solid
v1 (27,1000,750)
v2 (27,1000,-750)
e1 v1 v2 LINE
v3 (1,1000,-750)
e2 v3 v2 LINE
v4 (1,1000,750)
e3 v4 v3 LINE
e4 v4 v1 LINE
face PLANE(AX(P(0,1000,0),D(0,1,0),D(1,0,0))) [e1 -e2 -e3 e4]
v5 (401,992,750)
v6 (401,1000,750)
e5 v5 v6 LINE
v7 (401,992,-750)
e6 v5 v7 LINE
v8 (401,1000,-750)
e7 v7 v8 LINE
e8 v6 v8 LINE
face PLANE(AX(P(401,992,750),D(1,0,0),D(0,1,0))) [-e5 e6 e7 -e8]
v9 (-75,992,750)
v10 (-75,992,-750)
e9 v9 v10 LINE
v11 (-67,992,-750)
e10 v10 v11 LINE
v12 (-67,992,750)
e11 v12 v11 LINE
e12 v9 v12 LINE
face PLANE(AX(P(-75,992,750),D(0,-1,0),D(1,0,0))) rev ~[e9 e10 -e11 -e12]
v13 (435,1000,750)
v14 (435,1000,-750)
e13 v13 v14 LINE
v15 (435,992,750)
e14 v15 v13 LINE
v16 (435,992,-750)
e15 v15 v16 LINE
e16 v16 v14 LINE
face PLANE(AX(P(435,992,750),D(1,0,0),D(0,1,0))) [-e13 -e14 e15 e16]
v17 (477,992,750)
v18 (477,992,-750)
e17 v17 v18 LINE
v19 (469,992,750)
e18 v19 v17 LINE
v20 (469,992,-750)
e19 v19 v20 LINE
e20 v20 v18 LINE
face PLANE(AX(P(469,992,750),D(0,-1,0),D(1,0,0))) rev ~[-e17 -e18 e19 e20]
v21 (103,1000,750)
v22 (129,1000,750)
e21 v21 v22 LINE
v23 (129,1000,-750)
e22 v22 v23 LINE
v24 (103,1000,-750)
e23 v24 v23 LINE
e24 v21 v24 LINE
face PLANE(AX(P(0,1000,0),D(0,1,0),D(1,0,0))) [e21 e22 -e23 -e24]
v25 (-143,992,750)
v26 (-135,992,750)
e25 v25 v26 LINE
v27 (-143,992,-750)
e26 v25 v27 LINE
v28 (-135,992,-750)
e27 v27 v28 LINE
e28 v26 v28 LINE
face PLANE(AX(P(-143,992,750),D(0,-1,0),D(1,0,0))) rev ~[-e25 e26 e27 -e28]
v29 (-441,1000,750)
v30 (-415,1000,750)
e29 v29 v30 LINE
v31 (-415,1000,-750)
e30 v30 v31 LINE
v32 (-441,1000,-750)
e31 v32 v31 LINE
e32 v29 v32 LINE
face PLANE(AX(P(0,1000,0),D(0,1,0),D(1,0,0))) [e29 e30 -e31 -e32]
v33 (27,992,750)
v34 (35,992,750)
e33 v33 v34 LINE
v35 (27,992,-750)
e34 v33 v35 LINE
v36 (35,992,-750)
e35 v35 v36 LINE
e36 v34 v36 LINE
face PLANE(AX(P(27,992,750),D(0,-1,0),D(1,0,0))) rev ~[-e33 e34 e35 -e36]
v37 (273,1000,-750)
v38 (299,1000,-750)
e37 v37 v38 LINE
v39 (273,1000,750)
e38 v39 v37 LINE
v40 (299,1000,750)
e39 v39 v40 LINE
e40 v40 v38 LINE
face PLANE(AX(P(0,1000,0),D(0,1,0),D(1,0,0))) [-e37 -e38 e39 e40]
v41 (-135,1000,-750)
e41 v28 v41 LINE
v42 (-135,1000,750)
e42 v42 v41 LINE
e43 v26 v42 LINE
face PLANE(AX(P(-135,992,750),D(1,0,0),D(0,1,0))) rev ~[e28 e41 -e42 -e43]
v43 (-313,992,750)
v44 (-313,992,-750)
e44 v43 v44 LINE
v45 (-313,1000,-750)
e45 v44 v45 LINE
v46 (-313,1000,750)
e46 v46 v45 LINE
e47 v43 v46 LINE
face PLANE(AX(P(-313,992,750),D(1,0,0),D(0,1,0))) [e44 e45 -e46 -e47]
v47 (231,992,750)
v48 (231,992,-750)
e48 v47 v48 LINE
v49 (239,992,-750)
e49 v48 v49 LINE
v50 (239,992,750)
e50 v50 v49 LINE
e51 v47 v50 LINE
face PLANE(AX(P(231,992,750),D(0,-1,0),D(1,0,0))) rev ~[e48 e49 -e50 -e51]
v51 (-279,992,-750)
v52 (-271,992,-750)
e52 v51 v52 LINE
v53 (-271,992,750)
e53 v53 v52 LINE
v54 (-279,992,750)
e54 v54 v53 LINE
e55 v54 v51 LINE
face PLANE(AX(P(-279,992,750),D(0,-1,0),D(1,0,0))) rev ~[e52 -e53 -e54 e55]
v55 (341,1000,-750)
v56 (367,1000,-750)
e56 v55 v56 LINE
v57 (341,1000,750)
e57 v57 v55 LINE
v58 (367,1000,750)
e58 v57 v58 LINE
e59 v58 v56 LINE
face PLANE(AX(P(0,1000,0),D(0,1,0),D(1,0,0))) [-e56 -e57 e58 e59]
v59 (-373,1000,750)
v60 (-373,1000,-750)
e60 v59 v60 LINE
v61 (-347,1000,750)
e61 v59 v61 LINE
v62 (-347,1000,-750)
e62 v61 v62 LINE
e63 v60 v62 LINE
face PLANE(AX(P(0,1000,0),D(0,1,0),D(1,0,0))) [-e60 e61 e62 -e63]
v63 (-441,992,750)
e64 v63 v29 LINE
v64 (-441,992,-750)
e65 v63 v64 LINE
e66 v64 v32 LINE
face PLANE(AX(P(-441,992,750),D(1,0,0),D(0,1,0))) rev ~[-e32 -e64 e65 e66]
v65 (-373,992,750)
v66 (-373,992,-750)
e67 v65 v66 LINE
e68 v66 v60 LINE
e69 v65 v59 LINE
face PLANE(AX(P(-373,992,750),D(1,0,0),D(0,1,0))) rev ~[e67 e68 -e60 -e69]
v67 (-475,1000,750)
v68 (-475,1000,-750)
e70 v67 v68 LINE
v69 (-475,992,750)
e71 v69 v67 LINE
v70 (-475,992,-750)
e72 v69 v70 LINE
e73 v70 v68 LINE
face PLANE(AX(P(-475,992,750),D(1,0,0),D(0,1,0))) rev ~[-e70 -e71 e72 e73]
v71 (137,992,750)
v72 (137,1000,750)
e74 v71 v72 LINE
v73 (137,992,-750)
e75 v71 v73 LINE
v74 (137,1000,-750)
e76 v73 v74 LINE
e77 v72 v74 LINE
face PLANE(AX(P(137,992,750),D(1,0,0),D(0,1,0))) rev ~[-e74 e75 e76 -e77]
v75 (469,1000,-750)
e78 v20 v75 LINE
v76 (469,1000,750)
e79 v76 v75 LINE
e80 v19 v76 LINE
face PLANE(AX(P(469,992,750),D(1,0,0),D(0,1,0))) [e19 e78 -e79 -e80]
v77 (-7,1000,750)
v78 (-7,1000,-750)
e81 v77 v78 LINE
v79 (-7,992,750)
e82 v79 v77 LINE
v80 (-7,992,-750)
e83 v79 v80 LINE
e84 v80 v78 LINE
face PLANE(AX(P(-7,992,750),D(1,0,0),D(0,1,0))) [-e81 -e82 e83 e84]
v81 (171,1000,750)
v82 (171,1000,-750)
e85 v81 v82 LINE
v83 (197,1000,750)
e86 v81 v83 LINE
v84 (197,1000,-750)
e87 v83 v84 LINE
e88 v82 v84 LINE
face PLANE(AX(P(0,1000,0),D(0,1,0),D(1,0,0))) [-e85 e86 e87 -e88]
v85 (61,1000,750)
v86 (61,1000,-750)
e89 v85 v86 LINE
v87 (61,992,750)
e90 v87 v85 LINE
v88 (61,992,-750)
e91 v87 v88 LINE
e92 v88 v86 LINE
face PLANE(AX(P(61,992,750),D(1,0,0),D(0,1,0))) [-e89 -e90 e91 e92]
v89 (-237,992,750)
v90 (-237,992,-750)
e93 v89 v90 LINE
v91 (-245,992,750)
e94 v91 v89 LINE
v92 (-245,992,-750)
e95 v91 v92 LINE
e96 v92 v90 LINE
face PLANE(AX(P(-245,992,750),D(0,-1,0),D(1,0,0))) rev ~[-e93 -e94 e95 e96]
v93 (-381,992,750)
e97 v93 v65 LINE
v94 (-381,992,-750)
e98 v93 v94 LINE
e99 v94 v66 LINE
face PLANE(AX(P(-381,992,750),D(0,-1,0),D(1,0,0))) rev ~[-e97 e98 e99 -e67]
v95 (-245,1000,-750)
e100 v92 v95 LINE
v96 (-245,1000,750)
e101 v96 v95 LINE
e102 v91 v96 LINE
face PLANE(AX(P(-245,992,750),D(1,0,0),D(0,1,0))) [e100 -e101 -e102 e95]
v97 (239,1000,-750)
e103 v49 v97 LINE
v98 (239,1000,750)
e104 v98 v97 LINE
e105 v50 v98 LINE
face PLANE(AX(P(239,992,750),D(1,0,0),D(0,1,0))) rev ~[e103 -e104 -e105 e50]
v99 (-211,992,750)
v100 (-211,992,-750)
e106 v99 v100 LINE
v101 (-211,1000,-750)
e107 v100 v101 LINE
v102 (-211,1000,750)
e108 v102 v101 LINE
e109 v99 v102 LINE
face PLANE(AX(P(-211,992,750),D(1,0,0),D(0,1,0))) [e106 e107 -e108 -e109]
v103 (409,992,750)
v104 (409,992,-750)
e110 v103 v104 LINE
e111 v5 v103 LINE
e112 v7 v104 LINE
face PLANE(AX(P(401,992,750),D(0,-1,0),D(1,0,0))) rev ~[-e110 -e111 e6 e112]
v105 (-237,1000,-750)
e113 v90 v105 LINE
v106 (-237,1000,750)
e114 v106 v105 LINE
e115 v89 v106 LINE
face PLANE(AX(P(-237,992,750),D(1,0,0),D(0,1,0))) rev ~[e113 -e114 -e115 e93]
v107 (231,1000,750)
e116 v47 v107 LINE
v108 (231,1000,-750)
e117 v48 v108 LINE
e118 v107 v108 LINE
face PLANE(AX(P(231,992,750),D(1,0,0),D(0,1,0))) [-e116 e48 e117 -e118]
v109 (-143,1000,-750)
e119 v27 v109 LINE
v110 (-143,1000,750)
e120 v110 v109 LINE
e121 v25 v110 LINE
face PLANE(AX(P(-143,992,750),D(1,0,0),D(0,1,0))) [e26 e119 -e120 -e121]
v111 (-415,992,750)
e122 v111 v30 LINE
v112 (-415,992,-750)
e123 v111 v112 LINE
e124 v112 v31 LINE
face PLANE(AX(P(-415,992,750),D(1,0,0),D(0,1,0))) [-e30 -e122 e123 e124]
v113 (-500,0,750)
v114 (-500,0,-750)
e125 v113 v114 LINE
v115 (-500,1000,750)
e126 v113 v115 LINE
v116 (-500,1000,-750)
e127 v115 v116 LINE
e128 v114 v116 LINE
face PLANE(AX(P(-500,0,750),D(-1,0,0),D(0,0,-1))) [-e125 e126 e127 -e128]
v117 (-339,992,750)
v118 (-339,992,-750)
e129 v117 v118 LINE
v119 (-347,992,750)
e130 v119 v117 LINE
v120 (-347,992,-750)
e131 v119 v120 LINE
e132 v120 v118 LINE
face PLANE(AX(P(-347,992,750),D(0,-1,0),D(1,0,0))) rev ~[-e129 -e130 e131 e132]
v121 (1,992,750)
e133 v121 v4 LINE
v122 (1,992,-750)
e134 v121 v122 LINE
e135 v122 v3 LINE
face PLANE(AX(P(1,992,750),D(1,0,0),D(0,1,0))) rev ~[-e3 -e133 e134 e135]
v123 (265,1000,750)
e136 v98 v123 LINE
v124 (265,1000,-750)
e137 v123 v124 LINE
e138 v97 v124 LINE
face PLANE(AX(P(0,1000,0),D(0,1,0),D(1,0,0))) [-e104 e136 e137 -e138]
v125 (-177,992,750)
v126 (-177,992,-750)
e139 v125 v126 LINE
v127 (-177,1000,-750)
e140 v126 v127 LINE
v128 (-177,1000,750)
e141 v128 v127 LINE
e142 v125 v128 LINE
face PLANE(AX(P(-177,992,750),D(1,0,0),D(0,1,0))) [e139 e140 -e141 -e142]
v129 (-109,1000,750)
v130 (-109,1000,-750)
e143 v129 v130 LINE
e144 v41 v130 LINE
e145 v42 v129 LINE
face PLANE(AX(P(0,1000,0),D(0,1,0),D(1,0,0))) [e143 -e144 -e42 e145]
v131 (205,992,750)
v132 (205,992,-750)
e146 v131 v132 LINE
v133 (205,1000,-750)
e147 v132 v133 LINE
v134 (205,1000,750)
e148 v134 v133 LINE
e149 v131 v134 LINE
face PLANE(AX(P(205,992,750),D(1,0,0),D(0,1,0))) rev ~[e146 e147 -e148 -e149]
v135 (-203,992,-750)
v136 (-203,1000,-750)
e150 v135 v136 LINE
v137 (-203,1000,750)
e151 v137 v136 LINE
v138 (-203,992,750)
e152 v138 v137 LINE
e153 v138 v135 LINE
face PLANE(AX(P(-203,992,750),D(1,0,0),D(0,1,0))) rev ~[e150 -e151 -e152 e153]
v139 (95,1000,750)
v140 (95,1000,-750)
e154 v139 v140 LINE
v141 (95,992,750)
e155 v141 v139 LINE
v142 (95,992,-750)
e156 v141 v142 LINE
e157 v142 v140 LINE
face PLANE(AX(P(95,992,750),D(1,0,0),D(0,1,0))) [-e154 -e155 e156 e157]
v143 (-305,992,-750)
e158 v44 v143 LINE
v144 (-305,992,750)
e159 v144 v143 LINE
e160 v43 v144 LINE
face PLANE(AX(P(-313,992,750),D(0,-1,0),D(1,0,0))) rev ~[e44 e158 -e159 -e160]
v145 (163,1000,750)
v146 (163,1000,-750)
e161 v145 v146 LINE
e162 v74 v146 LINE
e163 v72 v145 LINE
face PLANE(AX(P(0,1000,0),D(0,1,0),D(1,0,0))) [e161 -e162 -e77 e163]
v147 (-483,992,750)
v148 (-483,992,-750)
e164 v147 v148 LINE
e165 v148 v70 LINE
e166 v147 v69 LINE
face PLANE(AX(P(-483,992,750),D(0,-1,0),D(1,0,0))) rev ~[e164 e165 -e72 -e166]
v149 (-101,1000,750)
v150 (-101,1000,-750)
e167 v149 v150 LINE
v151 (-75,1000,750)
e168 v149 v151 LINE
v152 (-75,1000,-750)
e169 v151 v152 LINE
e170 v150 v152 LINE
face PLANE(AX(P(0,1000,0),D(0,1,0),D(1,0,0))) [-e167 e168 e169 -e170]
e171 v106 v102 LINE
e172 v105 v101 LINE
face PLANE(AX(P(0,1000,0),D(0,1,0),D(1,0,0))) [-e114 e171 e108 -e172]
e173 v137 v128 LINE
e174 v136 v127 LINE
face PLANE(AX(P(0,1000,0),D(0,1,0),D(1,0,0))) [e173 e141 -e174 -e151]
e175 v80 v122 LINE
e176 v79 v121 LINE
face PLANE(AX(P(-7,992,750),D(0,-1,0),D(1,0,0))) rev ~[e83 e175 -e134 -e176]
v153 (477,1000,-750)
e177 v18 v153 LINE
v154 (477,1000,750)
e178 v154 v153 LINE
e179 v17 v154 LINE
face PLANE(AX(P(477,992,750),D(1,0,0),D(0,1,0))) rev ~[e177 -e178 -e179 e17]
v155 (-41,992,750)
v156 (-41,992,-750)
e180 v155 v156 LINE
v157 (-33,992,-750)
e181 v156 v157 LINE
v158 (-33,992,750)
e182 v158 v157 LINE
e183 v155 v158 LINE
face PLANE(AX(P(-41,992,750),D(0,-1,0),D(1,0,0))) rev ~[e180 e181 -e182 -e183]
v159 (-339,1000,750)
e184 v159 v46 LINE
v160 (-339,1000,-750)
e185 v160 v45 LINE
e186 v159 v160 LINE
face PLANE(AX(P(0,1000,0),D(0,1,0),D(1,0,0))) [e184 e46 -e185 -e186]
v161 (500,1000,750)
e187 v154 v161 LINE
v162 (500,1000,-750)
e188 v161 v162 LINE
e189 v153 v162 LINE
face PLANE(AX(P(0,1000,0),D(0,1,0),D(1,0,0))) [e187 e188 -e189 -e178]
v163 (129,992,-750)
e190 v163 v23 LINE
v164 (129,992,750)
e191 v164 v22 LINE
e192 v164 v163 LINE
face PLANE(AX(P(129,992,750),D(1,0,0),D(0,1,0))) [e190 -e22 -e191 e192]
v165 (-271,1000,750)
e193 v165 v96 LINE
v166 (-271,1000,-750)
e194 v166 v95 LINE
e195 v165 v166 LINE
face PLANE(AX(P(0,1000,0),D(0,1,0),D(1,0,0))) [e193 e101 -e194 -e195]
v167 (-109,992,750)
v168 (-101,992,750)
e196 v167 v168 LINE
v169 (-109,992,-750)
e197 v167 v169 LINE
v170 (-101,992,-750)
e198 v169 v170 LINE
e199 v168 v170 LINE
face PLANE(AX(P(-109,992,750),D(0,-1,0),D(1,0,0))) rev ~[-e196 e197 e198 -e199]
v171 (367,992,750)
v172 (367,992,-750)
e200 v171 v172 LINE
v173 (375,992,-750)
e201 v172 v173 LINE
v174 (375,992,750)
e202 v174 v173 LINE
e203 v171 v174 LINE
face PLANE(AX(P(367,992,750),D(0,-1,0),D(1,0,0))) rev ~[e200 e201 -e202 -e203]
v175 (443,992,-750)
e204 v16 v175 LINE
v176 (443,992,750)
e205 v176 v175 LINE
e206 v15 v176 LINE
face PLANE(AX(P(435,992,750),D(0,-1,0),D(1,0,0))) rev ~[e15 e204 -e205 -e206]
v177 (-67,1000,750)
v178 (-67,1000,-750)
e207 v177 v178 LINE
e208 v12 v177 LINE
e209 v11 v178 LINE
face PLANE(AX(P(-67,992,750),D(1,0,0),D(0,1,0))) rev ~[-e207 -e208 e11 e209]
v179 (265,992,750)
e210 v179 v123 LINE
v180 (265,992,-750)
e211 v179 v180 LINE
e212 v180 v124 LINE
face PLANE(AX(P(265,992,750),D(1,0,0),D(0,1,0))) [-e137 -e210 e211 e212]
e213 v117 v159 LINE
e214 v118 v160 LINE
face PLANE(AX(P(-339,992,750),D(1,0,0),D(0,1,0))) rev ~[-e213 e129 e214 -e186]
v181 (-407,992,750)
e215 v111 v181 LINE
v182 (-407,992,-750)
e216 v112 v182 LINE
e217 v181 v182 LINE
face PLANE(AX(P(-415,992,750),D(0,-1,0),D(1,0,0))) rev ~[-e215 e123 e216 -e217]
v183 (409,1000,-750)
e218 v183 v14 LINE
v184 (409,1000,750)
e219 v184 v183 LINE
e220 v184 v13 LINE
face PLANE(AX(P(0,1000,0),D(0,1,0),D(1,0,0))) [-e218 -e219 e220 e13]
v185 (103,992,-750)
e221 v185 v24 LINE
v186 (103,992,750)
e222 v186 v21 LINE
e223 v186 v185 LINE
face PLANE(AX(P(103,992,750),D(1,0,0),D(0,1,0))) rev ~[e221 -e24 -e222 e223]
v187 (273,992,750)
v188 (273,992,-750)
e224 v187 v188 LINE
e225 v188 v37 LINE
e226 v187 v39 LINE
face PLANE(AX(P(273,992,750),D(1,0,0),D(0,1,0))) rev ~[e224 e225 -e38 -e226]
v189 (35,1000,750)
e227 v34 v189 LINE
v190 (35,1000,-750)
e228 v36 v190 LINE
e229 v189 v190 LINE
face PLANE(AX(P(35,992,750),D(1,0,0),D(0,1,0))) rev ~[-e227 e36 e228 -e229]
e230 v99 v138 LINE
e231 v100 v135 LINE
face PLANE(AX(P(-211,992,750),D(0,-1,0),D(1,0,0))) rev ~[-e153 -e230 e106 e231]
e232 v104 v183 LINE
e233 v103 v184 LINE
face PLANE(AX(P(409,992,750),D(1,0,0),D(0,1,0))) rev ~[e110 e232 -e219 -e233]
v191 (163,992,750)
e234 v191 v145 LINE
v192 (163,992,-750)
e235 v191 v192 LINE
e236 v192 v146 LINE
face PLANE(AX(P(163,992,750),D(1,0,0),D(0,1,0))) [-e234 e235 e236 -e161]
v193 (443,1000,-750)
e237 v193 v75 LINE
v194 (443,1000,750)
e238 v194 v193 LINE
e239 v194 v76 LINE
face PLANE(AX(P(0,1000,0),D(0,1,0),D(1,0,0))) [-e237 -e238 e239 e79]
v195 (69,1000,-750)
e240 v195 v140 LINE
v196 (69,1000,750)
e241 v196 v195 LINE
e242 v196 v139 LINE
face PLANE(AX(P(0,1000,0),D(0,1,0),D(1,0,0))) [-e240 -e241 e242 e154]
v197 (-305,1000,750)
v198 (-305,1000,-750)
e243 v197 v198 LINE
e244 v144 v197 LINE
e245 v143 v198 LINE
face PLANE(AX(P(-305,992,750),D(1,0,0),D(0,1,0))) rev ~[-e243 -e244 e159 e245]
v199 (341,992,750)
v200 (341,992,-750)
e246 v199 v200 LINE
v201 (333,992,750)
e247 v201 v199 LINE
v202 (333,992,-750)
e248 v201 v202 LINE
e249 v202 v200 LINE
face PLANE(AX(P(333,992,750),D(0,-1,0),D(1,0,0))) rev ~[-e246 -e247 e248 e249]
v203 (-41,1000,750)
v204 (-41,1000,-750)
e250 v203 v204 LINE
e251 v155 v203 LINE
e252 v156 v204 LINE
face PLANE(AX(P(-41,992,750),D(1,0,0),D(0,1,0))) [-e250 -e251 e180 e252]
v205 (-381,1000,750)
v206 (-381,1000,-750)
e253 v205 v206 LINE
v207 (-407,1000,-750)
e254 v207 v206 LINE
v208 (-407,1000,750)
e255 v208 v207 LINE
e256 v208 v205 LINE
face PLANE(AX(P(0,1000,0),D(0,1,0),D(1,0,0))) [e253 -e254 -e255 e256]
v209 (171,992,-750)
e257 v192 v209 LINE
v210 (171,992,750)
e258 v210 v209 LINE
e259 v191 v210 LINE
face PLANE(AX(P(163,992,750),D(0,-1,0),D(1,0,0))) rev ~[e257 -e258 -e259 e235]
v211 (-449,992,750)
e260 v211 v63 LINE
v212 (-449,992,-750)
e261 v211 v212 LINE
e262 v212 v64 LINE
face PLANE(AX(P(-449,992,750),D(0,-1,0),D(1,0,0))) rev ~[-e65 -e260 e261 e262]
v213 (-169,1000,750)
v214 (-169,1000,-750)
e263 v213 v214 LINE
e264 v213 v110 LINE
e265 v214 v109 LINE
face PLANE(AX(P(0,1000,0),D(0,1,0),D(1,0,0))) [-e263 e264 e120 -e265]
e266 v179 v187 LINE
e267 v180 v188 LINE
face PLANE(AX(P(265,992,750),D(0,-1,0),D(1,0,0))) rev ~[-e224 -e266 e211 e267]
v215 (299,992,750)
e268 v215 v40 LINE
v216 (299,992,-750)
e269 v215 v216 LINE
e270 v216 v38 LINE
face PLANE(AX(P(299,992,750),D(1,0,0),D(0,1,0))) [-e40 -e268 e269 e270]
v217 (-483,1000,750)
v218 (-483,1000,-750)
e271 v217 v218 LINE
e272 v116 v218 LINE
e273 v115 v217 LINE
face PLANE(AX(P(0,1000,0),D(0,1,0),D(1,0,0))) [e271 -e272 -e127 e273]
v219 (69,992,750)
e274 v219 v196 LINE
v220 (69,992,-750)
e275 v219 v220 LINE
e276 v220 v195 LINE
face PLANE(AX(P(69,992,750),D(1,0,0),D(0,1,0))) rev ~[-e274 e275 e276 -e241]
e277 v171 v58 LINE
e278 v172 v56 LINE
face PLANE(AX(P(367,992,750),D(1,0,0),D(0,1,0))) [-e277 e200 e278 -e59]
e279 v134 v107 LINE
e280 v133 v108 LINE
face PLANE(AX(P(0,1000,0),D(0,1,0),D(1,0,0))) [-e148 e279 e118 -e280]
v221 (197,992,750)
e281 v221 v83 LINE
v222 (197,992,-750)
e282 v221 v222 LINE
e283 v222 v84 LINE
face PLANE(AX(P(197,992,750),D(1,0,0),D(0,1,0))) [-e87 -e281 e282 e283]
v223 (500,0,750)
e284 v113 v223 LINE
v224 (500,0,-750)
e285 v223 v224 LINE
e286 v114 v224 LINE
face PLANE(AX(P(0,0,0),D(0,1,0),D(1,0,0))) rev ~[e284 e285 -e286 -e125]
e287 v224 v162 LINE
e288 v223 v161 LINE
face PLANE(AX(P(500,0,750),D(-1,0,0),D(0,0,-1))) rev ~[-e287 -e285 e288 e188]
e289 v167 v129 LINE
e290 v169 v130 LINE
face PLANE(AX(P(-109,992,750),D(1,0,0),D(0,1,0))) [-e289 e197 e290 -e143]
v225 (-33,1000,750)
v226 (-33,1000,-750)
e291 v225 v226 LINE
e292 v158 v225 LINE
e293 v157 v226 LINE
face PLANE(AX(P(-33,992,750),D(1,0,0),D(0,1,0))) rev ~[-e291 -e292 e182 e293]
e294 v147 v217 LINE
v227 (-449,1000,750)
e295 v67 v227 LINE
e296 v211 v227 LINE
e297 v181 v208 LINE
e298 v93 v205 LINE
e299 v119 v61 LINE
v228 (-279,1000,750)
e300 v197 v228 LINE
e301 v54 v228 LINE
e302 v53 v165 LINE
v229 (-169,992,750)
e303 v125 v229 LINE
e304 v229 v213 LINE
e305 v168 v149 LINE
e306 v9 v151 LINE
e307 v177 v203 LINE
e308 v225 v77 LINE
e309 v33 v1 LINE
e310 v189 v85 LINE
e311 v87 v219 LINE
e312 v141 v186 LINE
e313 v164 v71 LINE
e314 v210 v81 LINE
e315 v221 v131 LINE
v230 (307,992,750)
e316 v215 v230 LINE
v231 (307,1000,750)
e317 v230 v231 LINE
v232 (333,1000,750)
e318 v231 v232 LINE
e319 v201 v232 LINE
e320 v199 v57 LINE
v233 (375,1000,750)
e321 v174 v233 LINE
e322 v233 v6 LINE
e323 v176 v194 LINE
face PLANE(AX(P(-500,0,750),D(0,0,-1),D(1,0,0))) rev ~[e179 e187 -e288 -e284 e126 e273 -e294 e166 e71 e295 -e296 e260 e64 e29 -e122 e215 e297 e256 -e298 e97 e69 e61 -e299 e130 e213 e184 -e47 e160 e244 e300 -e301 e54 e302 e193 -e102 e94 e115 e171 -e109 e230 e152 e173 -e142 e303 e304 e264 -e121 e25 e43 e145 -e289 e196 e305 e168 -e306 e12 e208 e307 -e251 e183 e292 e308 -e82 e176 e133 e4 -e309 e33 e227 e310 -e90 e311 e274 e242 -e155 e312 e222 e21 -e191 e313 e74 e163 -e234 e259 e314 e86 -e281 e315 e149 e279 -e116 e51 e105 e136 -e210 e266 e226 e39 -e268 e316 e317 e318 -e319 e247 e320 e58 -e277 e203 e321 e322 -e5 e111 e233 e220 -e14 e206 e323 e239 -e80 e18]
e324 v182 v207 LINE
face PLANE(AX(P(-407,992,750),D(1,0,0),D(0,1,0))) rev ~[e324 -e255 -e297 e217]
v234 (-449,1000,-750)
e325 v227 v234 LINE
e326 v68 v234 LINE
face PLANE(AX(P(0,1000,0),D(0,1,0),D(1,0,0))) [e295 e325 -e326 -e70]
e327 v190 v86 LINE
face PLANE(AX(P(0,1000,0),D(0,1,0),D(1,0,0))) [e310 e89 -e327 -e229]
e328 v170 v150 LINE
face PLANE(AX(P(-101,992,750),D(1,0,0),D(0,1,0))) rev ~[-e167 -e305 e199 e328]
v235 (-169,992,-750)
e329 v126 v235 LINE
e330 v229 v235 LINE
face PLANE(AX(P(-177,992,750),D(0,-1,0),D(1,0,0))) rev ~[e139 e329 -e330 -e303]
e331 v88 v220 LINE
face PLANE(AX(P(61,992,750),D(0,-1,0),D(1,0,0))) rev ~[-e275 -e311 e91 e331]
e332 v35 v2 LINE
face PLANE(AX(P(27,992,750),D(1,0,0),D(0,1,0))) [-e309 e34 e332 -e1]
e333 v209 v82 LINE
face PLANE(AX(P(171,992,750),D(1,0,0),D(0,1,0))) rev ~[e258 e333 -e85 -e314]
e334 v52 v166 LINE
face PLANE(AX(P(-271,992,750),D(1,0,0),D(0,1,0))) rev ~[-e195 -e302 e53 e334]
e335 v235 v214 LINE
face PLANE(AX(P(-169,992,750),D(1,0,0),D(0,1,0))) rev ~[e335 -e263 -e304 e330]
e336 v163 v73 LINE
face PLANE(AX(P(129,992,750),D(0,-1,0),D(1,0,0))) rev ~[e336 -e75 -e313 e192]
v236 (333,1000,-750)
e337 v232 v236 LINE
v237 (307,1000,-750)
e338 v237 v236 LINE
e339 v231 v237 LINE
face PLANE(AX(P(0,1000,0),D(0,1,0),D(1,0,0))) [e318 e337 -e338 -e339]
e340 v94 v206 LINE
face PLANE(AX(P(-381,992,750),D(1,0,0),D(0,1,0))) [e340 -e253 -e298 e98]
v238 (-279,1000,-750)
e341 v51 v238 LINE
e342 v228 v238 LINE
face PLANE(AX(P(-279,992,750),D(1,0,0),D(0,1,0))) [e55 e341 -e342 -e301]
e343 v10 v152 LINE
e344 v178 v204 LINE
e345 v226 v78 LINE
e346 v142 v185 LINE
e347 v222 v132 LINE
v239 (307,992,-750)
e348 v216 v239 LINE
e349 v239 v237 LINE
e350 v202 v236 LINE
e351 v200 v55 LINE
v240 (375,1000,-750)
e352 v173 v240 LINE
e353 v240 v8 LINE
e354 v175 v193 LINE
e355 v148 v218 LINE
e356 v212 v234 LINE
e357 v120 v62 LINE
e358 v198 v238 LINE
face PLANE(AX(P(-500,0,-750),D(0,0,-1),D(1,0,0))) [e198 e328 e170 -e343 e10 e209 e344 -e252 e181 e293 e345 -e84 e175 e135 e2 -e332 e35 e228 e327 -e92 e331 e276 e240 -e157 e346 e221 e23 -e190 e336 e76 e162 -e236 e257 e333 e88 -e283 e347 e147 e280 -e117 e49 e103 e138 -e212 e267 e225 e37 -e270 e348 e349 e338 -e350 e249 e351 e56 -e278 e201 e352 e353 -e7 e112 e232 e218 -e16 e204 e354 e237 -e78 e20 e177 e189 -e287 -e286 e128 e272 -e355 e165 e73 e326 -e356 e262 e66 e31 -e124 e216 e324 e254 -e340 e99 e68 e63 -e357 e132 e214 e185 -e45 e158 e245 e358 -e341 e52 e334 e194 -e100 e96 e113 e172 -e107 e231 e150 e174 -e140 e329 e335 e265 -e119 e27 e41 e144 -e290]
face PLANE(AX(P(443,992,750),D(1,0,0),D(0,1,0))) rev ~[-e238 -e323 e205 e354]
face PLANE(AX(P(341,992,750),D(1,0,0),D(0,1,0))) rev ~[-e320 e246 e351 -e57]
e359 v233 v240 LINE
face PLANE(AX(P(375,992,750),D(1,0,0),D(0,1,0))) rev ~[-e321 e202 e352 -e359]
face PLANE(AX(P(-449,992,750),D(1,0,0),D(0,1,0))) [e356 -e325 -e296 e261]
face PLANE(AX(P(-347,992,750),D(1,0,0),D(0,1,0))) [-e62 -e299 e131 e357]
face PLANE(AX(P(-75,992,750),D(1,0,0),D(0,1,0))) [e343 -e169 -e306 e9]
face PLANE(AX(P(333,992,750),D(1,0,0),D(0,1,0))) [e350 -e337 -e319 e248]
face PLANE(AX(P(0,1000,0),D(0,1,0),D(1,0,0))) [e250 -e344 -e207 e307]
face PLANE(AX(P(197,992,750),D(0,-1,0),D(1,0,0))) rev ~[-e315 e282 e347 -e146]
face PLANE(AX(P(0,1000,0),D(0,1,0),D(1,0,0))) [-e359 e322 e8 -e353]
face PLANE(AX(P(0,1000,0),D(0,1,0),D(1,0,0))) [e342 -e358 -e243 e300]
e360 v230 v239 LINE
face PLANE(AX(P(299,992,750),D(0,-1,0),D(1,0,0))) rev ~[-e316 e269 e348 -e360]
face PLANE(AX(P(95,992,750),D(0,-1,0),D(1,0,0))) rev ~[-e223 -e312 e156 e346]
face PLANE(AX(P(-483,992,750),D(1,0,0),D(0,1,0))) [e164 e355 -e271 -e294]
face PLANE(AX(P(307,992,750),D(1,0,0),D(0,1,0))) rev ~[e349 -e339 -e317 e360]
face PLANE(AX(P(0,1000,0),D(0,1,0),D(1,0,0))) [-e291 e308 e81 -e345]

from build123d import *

# Parameters (mm, degrees)
SKETCH_2_W          = 1000
SKETCH_2_H          = 1500
EXTRUDE_1_DEPTH     = 1000
SKETCH_4_W          = 8
SKETCH_4_H          = 8
CUT_EXTRUDE_1_DEPTH = 1500


with BuildPart() as part:
    # 草图2 → 凸台-拉伸1 (new body)
    with BuildSketch(Plane(origin=(0, 0, 0), x_dir=(1, 0, 0), z_dir=(0, 1, 0))):
        Rectangle(SKETCH_2_W, SKETCH_2_H)
    extrude(amount=EXTRUDE_1_DEPTH)

    # 草图4 → 切除-拉伸1 (cut)
    with BuildSketch(Plane.XY.offset(750)):
        with Locations((-479, 996)):
            Rectangle(SKETCH_4_W, SKETCH_4_H)
        with Locations((-445, 996)):
            Rectangle(SKETCH_4_W, SKETCH_4_H)
        with Locations((-411, 996)):
            Rectangle(SKETCH_4_W, SKETCH_4_H)
        with Locations((-377, 996)):
            Rectangle(SKETCH_4_W, SKETCH_4_H)
        with Locations((-343, 996)):
            Rectangle(SKETCH_4_W, SKETCH_4_H)
        with Locations((-309, 996)):
            Rectangle(SKETCH_4_W, SKETCH_4_H)
        with Locations((-275, 996)):
            Rectangle(SKETCH_4_W, SKETCH_4_H)
        with Locations((-241, 996)):
            Rectangle(SKETCH_4_W, SKETCH_4_H)
        with Locations((-207, 996)):
            Rectangle(SKETCH_4_W, SKETCH_4_H)
        with Locations((-173, 996)):
            Rectangle(SKETCH_4_W, SKETCH_4_H)
        with Locations((-139, 996)):
            Rectangle(SKETCH_4_W, SKETCH_4_H)
        with Locations((-105, 996)):
            Rectangle(SKETCH_4_W, SKETCH_4_H)
        with Locations((-71, 996)):
            Rectangle(SKETCH_4_W, SKETCH_4_H)
        with Locations((-37, 996)):
            Rectangle(SKETCH_4_W, SKETCH_4_H)
        with Locations((-3, 996)):
            Rectangle(SKETCH_4_W, SKETCH_4_H)
        with Locations((31, 996)):
            Rectangle(SKETCH_4_W, SKETCH_4_H)
        with Locations((65, 996)):
            Rectangle(SKETCH_4_W, SKETCH_4_H)
        with Locations((99, 996)):
            Rectangle(SKETCH_4_W, SKETCH_4_H)
        with Locations((133, 996)):
            Rectangle(SKETCH_4_W, SKETCH_4_H)
        with Locations((167, 996)):
            Rectangle(SKETCH_4_W, SKETCH_4_H)
        with Locations((201, 996)):
            Rectangle(SKETCH_4_W, SKETCH_4_H)
        with Locations((235, 996)):
            Rectangle(SKETCH_4_W, SKETCH_4_H)
        with Locations((269, 996)):
            Rectangle(SKETCH_4_W, SKETCH_4_H)
        with Locations((303, 996)):
            Rectangle(SKETCH_4_W, SKETCH_4_H)
        with Locations((337, 996)):
            Rectangle(SKETCH_4_W, SKETCH_4_H)
        with Locations((371, 996)):
            Rectangle(SKETCH_4_W, SKETCH_4_H)
        with Locations((405, 996)):
            Rectangle(SKETCH_4_W, SKETCH_4_H)
        with Locations((439, 996)):
            Rectangle(SKETCH_4_W, SKETCH_4_H)
        with Locations((473, 996)):
            Rectangle(SKETCH_4_W, SKETCH_4_H)
    extrude(amount=-CUT_EXTRUDE_1_DEPTH, mode=Mode.SUBTRACT)


solid = part.part
